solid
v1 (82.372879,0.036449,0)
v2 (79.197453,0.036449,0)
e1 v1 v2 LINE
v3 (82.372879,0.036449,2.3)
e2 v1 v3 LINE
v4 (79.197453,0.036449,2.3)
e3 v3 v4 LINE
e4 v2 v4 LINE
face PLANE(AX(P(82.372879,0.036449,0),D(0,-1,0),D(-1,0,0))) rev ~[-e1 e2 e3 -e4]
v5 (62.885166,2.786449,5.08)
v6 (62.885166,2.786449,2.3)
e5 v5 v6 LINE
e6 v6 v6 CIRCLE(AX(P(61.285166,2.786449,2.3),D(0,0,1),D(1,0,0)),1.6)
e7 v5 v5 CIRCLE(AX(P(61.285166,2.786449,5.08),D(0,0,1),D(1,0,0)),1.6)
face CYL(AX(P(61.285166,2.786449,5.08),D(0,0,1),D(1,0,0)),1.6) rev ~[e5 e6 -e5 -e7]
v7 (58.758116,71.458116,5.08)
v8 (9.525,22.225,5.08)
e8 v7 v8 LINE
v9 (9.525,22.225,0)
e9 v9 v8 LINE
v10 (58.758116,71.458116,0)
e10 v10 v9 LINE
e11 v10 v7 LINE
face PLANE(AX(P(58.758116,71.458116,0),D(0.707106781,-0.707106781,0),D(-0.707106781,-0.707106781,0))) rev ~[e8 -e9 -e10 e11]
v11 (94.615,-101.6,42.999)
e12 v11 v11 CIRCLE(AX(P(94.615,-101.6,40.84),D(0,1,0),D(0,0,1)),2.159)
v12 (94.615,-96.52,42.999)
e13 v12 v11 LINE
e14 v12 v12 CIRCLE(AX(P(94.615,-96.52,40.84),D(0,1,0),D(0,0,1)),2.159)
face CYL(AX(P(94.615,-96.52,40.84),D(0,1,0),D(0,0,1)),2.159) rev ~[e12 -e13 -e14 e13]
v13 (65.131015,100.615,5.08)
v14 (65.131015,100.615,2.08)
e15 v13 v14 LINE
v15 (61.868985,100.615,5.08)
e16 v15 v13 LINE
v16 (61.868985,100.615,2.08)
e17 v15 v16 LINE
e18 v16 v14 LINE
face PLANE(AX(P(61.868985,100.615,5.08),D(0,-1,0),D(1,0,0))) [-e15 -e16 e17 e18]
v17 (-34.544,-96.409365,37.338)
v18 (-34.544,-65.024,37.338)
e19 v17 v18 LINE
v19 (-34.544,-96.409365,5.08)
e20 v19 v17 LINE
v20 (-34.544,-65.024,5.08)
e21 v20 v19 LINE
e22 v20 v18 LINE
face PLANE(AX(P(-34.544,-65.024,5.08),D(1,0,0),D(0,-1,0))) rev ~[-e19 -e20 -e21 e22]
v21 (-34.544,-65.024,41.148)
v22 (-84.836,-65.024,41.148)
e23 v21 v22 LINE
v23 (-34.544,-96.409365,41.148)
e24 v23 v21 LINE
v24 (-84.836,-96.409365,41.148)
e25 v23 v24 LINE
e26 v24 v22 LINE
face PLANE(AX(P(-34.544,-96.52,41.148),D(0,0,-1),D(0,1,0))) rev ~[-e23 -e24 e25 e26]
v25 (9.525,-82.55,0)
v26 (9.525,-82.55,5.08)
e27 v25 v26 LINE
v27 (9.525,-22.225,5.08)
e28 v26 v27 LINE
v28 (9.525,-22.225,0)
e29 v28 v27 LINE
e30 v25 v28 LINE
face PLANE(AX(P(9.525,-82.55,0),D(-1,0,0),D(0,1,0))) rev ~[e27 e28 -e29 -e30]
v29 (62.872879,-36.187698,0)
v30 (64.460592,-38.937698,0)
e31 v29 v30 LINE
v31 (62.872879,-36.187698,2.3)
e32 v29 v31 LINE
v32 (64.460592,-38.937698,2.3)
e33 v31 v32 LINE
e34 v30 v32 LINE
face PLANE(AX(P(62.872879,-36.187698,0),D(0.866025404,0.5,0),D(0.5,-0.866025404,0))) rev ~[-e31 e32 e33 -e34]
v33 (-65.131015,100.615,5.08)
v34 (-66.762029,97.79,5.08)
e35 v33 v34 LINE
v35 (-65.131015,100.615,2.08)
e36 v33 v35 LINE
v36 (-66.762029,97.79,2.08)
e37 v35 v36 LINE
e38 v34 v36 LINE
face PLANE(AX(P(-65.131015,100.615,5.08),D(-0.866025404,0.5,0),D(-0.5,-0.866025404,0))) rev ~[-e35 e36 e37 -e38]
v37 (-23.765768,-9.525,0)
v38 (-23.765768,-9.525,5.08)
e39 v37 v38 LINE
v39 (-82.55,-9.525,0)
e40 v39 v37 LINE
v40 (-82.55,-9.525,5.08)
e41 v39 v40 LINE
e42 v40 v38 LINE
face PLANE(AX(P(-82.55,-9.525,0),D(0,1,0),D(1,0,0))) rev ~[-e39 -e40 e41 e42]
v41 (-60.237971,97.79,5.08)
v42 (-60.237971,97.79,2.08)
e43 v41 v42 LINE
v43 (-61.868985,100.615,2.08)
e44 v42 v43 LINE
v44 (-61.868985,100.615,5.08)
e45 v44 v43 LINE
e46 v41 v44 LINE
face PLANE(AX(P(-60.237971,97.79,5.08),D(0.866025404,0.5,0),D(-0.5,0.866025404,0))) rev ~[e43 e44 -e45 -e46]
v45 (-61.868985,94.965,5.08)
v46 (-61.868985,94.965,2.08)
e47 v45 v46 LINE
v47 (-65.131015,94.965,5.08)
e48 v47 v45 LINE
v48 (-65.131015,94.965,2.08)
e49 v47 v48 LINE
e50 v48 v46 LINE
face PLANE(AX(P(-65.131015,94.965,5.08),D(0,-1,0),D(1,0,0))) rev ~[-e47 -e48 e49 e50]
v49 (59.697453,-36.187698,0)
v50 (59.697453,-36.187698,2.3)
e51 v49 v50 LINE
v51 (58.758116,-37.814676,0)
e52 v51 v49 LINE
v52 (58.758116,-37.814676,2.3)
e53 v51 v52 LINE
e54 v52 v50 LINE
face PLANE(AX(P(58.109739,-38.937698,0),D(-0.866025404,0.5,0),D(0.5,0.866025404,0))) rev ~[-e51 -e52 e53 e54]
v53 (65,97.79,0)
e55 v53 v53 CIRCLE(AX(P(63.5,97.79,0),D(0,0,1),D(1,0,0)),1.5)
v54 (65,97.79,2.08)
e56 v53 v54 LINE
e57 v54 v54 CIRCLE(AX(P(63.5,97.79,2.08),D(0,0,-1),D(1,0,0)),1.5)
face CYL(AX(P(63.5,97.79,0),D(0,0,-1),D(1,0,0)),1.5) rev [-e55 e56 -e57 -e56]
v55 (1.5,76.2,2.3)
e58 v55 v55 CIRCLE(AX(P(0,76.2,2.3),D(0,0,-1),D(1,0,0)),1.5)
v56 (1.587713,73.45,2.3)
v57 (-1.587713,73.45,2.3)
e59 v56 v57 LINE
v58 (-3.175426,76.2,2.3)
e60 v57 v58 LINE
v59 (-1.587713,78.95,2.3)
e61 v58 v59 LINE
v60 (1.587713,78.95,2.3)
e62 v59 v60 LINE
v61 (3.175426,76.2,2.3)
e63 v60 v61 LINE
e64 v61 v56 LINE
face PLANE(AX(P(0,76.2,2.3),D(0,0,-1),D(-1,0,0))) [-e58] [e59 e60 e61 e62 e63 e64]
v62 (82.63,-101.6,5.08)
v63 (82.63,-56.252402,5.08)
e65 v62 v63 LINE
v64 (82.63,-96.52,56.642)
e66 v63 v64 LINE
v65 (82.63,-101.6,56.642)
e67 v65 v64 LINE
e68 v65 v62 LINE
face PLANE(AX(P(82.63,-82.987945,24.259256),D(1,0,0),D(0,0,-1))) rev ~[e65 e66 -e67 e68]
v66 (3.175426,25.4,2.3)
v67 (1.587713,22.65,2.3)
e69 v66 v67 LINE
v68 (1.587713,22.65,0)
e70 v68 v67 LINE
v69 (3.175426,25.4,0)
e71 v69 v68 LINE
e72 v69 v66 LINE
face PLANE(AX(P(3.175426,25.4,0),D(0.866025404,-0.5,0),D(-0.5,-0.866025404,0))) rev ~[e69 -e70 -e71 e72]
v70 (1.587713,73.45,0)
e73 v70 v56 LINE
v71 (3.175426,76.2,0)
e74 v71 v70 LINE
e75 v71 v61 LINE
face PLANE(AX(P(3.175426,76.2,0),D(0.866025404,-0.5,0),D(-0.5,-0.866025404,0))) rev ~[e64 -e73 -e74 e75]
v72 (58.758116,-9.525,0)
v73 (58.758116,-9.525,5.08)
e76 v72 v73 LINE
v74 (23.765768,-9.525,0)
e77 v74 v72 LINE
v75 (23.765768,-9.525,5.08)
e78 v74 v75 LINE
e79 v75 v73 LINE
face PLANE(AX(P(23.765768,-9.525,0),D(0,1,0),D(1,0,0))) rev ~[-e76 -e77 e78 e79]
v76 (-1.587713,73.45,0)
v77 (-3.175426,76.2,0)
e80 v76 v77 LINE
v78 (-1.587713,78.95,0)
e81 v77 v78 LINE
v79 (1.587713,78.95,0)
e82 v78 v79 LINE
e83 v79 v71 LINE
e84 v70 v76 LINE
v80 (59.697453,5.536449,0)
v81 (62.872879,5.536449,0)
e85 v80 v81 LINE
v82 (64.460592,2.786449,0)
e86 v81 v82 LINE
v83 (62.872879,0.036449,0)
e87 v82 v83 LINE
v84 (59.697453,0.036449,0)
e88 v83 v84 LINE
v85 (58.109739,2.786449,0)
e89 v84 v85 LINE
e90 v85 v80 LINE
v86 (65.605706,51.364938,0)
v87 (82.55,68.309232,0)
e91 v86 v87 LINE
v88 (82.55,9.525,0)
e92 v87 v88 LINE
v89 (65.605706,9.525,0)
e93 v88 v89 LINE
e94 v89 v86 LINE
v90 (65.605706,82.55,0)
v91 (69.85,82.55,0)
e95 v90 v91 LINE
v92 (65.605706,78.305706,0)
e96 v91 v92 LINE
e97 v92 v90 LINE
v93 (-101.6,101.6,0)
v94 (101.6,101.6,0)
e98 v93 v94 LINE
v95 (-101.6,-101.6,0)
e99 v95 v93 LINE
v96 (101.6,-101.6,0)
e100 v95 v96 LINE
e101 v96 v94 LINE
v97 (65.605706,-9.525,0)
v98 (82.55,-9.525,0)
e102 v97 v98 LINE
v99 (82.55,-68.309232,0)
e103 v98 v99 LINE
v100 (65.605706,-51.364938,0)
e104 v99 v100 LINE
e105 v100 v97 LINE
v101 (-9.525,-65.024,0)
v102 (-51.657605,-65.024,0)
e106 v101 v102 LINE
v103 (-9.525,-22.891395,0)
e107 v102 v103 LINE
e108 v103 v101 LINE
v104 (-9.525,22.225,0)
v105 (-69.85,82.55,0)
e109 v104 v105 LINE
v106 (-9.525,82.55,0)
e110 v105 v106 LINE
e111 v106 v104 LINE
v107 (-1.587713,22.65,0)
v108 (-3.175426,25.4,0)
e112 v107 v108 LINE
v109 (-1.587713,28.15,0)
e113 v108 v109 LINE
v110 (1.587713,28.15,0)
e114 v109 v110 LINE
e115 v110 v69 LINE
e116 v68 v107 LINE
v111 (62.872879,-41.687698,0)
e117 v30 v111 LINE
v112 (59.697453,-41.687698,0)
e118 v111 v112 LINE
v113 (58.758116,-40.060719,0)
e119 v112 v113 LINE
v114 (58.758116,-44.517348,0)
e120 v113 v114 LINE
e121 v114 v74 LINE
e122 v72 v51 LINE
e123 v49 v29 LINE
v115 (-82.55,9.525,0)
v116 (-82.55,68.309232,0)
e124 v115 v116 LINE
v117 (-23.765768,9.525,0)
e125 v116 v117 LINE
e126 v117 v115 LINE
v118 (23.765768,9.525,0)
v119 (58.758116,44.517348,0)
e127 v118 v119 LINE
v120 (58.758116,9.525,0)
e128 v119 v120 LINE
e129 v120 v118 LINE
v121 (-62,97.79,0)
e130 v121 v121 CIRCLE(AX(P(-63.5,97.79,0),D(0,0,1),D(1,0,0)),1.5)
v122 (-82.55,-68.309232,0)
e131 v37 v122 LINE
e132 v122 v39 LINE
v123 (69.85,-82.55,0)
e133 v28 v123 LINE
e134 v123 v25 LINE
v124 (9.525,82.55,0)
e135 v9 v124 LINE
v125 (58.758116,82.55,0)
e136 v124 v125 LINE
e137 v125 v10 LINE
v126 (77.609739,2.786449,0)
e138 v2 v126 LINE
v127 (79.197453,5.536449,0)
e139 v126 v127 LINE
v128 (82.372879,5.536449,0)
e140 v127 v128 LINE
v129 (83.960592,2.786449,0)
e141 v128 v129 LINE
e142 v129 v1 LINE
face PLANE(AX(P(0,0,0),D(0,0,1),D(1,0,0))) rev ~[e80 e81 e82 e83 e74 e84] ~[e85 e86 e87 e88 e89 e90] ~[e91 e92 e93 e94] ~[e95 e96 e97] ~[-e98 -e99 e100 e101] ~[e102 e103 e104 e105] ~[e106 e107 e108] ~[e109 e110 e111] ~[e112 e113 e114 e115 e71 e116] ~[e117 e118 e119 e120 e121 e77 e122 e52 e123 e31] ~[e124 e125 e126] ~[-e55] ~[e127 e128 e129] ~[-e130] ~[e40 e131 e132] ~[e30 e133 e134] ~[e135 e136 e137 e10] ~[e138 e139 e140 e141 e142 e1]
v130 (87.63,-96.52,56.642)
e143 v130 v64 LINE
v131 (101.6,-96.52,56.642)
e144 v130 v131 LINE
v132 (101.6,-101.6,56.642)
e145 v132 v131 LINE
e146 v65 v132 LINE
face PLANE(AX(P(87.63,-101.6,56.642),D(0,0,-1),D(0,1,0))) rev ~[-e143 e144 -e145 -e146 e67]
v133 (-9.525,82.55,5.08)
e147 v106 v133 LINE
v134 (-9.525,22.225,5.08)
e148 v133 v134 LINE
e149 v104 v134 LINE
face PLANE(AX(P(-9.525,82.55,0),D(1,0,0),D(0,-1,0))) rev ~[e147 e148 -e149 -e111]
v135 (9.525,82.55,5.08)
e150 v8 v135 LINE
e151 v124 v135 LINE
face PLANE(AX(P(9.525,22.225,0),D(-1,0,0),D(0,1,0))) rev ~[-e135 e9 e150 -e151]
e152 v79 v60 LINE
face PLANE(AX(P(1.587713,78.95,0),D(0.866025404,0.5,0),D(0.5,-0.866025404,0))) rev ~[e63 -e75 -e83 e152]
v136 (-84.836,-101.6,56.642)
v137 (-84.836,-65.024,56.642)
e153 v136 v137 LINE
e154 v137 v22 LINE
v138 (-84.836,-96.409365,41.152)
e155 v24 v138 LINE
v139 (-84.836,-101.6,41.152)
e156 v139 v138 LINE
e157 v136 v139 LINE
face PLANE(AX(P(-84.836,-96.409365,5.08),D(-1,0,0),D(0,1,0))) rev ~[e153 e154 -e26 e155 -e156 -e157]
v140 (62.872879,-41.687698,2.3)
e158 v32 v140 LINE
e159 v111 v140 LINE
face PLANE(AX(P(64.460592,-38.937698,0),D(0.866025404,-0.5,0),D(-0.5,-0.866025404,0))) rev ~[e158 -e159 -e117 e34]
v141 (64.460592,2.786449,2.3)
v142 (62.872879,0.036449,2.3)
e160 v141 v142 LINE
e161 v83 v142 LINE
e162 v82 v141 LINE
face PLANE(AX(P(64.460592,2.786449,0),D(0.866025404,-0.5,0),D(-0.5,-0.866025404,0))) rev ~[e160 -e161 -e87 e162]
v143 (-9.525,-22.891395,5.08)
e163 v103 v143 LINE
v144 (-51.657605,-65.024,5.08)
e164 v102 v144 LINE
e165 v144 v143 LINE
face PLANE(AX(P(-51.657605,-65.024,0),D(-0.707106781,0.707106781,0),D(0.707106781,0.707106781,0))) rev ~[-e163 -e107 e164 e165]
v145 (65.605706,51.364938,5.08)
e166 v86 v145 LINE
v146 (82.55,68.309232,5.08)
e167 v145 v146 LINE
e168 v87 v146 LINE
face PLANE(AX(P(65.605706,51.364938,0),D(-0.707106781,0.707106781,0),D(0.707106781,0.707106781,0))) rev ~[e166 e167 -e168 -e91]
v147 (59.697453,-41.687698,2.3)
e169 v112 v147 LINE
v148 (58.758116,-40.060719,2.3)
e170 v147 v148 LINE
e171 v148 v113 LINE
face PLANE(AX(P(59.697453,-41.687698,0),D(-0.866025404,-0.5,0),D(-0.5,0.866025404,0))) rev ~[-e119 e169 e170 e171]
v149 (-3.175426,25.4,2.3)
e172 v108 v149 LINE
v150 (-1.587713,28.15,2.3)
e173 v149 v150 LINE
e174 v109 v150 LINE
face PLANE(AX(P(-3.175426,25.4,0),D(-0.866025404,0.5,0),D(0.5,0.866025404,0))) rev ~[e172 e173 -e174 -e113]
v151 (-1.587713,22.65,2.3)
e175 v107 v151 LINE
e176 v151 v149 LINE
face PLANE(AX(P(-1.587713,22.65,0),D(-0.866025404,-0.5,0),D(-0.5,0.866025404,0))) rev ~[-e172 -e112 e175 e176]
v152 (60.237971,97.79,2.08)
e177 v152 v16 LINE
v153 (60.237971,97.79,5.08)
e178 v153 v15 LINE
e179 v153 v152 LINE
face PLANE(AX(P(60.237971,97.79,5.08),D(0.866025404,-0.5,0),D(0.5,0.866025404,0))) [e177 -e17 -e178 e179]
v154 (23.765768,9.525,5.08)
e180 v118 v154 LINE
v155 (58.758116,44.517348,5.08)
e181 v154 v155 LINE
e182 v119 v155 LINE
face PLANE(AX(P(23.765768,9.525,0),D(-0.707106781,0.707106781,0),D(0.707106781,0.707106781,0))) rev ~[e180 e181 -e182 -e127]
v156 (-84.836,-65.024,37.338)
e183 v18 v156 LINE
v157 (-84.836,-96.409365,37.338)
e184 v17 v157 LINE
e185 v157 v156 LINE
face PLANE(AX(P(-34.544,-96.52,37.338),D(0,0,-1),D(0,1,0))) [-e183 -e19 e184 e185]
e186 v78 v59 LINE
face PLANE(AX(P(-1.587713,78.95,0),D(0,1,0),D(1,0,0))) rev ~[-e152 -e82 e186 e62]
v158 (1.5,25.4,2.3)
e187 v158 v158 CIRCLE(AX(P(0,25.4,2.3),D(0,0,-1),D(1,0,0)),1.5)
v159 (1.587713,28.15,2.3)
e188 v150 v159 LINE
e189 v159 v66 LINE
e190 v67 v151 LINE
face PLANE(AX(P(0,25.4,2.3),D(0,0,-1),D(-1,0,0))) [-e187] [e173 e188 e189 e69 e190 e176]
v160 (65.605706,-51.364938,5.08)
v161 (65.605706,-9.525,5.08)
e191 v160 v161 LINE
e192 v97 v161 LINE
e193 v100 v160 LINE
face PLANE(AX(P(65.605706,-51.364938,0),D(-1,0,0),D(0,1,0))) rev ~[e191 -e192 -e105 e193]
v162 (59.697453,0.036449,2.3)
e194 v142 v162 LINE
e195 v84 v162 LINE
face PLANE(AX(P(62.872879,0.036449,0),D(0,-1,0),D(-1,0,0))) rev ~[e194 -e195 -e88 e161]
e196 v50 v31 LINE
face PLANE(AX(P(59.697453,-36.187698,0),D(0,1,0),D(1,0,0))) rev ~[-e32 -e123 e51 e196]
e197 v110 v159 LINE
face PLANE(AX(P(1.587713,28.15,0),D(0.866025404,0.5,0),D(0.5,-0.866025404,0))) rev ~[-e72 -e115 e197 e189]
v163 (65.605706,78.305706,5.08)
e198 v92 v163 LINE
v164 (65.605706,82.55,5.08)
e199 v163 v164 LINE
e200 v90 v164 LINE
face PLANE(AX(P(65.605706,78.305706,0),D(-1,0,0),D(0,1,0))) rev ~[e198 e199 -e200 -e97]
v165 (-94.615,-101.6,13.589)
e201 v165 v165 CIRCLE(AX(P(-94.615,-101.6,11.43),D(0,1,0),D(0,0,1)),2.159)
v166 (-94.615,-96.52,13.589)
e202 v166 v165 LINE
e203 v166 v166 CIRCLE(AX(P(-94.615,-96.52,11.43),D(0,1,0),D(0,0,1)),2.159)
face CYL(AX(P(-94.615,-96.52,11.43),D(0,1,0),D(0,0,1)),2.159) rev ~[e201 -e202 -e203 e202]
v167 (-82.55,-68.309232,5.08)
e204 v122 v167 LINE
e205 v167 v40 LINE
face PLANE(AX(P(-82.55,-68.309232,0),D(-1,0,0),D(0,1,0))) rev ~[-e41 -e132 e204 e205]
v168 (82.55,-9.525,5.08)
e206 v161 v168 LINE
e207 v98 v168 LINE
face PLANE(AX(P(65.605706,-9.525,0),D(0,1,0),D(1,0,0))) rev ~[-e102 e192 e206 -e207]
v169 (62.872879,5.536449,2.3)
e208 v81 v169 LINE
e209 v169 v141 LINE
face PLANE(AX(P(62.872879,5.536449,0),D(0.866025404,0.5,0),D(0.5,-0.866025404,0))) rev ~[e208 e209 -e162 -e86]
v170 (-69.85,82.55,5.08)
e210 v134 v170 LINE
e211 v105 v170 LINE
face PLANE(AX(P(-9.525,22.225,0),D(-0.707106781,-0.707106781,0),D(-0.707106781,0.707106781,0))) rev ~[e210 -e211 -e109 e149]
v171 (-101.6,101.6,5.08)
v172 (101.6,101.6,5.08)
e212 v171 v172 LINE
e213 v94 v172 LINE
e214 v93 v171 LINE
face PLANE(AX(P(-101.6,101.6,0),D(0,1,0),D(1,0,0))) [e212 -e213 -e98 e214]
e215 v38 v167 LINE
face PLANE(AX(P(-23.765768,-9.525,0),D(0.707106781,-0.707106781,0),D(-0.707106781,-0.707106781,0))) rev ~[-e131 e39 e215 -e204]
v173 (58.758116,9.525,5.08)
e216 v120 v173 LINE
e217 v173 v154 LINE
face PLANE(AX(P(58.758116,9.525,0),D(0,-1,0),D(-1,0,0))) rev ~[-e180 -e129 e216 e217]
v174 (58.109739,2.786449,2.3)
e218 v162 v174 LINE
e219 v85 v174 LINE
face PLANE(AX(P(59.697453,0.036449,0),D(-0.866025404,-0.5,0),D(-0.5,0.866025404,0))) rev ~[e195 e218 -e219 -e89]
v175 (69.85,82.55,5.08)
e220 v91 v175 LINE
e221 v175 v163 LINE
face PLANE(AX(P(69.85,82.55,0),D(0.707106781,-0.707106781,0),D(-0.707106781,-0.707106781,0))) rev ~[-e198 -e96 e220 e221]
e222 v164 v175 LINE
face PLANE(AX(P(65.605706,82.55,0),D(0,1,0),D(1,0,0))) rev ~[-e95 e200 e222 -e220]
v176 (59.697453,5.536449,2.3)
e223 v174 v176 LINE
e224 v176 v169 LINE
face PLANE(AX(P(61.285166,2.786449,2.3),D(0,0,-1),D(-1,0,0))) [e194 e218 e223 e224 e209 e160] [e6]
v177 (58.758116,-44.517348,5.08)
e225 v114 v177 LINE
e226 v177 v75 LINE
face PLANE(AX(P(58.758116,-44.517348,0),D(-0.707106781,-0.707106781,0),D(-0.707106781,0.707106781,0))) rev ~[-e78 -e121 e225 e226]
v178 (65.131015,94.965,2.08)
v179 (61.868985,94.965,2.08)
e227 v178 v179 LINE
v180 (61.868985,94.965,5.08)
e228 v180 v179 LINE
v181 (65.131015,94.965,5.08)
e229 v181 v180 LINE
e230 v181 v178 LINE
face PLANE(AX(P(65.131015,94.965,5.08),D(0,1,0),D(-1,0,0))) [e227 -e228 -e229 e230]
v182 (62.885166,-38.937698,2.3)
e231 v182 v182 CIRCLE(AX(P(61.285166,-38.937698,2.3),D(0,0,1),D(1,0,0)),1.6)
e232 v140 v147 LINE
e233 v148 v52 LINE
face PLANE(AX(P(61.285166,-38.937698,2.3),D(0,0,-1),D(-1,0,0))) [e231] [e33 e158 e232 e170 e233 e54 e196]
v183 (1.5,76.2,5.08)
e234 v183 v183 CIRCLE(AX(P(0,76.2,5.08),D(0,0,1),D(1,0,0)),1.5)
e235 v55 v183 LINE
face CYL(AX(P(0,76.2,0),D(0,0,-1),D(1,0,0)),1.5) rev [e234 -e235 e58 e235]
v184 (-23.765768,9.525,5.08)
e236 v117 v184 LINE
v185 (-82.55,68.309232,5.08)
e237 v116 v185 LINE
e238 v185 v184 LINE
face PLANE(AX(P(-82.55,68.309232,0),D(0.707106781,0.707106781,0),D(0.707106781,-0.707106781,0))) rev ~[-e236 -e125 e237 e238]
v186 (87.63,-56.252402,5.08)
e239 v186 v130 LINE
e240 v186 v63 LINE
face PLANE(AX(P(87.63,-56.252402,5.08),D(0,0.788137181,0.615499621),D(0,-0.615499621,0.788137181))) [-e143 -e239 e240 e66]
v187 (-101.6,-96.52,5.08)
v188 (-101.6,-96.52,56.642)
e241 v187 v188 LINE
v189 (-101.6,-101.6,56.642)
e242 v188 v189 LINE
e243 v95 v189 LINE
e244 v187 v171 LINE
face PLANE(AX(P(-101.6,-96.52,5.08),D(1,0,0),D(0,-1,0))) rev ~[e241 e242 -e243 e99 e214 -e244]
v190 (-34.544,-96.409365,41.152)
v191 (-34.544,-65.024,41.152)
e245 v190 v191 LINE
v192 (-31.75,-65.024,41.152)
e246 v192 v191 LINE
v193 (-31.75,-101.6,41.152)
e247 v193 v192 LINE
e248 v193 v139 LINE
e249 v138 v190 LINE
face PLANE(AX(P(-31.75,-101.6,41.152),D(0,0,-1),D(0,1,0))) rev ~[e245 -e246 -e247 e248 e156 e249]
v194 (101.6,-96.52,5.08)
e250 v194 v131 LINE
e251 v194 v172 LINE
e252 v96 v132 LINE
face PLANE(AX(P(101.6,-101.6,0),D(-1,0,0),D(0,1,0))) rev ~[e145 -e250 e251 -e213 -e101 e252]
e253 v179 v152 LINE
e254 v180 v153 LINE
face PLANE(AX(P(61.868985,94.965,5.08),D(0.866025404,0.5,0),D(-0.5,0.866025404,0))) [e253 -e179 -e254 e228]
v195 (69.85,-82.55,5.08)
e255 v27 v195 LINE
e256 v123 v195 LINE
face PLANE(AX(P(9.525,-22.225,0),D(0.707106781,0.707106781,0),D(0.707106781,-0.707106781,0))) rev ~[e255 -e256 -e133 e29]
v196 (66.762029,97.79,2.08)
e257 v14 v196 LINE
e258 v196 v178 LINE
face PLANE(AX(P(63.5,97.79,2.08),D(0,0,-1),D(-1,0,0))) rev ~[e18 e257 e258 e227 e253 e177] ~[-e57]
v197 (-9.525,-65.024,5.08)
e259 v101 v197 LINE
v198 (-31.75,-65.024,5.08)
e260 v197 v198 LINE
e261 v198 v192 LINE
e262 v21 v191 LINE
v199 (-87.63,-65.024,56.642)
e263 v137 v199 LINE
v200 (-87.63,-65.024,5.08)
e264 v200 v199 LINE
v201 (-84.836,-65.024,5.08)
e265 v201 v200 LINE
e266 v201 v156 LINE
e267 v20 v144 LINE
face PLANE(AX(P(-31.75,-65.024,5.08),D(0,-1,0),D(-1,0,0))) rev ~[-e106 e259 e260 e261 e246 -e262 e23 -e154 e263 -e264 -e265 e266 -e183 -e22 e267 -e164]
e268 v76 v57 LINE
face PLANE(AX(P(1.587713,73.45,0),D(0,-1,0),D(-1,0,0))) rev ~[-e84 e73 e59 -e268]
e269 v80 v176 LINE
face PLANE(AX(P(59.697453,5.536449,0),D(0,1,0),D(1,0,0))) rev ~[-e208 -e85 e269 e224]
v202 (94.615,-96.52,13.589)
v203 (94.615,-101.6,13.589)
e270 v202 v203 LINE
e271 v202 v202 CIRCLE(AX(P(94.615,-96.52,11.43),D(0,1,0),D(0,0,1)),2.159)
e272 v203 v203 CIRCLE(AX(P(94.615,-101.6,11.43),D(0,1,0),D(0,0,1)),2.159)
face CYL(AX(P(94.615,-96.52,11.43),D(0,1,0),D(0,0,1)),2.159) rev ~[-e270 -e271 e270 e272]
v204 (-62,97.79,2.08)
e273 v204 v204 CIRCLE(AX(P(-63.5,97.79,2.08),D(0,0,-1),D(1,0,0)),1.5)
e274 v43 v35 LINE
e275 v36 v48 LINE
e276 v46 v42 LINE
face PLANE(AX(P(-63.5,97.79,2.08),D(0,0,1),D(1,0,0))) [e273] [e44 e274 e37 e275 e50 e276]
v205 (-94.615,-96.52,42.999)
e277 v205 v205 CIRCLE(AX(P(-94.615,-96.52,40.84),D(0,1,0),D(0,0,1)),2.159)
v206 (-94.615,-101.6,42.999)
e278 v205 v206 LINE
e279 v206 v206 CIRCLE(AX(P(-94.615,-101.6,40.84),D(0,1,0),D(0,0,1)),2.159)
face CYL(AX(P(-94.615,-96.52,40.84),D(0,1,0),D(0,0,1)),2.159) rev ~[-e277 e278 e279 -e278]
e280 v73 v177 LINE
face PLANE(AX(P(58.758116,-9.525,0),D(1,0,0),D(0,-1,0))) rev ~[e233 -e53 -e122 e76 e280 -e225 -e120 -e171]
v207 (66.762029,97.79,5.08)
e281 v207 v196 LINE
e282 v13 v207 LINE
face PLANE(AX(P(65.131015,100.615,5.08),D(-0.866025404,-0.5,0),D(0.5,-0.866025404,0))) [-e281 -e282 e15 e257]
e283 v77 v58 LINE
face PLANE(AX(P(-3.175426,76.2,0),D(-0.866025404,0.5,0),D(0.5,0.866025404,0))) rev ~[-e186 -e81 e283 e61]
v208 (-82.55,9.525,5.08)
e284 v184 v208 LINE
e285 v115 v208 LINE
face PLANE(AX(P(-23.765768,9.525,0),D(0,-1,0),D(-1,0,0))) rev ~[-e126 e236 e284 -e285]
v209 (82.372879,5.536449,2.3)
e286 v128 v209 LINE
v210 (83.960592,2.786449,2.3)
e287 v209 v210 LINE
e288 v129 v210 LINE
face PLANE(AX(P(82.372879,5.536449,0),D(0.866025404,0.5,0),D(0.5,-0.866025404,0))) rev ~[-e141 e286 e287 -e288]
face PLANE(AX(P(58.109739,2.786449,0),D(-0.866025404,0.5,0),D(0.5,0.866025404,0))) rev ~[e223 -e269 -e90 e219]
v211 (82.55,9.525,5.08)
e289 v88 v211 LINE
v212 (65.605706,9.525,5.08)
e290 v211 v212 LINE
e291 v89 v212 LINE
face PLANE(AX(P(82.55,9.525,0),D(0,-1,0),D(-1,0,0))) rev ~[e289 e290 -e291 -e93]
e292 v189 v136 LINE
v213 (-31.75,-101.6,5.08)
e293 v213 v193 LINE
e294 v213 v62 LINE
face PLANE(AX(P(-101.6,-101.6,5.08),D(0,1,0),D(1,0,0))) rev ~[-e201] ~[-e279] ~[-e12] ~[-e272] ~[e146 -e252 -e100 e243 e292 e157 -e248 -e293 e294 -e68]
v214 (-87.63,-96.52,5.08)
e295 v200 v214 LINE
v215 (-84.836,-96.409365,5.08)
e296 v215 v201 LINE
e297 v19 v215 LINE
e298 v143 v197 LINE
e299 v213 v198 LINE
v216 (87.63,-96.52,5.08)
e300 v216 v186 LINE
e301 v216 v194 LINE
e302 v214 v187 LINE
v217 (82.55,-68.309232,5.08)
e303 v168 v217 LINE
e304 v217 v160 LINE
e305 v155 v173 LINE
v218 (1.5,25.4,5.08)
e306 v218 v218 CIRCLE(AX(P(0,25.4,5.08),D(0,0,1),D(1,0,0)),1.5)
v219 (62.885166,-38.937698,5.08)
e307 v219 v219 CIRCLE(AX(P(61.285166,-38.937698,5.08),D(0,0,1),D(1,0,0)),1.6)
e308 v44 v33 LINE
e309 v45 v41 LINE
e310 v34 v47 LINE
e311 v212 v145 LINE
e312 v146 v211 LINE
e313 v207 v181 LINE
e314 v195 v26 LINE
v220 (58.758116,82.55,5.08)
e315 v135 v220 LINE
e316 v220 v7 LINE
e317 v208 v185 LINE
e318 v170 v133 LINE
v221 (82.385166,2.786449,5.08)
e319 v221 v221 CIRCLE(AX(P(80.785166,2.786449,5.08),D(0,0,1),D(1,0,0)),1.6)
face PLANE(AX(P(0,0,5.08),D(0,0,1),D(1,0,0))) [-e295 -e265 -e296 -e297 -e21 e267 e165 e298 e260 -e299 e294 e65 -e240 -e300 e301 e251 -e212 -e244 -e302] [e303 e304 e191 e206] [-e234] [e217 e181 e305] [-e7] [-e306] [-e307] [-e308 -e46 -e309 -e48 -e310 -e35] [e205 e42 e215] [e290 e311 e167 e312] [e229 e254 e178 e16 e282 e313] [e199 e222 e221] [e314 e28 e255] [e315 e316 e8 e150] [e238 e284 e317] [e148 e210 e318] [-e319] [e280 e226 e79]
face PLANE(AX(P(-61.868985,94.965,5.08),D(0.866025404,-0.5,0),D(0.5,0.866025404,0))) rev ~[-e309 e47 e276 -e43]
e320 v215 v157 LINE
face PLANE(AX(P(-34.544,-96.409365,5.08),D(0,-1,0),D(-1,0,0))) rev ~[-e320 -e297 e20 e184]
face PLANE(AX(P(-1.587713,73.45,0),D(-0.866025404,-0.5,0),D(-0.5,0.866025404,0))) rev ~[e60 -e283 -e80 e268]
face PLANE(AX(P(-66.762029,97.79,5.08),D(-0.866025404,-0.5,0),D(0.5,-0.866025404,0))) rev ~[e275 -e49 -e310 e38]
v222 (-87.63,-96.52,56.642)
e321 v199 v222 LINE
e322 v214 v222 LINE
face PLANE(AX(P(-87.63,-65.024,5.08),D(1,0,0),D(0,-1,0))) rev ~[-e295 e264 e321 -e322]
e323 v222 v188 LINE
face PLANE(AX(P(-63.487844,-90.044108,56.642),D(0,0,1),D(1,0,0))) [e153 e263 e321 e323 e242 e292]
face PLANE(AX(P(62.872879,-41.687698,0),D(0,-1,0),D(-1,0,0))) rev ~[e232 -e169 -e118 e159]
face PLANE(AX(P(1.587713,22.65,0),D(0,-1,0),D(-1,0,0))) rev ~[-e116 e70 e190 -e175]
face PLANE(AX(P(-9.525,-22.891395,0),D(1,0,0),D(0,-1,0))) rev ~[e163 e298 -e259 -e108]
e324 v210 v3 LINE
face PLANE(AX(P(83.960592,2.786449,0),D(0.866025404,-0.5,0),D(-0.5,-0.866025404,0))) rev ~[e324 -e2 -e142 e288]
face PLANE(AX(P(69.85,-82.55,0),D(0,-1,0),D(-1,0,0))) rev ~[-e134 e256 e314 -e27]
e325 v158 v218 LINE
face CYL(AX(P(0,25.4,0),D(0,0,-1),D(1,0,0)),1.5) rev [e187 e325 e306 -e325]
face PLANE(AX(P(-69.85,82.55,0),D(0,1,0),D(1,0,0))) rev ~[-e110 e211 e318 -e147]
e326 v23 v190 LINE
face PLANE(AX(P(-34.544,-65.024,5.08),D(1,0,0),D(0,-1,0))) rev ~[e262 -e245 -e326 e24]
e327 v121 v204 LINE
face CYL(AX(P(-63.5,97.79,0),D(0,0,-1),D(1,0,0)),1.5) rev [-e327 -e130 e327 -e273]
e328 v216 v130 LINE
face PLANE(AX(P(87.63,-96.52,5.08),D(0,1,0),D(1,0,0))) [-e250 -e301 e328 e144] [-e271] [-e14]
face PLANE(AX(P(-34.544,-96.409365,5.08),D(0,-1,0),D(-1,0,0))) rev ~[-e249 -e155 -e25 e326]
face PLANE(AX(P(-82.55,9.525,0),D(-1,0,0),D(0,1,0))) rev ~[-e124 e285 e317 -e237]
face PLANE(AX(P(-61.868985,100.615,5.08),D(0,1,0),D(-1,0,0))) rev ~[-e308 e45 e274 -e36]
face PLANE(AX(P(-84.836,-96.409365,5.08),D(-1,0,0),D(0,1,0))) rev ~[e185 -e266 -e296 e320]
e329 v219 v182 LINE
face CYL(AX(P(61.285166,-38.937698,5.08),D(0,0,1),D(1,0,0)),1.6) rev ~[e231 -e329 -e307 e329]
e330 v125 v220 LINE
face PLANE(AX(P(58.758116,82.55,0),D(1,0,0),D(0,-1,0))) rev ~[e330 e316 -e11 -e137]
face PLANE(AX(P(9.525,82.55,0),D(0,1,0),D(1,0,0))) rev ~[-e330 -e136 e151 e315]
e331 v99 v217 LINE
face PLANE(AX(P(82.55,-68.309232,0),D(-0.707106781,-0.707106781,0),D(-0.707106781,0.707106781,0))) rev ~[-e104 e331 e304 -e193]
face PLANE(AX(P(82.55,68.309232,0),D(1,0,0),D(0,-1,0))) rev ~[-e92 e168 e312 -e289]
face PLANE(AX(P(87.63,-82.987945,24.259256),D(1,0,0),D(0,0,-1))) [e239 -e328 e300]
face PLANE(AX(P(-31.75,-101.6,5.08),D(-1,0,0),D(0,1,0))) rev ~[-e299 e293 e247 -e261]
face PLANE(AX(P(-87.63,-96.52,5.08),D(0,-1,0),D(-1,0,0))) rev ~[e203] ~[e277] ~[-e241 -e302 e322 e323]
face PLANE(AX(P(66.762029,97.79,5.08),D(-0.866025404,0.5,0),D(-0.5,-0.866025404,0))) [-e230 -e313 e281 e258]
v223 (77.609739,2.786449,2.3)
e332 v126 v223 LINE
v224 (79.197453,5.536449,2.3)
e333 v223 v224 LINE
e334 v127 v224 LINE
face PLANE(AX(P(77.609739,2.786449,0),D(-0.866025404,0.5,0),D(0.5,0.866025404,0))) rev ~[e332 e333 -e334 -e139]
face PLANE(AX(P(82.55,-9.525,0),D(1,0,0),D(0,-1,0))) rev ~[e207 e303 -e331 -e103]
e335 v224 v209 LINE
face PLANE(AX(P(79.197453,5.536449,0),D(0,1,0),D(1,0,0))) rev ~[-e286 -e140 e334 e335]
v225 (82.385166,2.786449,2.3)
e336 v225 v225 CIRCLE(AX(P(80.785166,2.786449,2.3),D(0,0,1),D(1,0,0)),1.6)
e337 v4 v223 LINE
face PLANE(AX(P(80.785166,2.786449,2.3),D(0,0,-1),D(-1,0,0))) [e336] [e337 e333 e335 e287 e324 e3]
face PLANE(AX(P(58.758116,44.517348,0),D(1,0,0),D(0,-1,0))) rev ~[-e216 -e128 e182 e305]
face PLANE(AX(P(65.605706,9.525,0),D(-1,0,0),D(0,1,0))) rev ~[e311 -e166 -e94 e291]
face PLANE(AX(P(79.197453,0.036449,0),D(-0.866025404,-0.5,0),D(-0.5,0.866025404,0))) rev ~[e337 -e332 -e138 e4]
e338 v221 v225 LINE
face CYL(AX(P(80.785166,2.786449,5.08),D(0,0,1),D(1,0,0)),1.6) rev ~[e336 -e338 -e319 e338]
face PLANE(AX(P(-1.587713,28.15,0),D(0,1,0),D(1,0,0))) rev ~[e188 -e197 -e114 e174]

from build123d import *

# Parameters (mm, degrees)
SKETCH1_W           = 203.2
SKETCH1_H           = 203.2
SKETCH1_R           = 1.5
BOSS_EXTRUDE1_DEPTH = 5.08
SKETCH2_W           = 13.97
SKETCH2_H           = 5.08
BOSS_EXTRUDE2_DEPTH = 51.562
CUT_EXTRUDE1_REACH  = 231.744
SKETCH3_R           = 2.159
CUT_EXTRUDE4_DEPTH  = 3
BOSS_EXTRUDE3_REACH = 181.07
SKETCH12_W          = 3.81
SKETCH12_H          = 31.496
SKETCH14_W          = 15.49
SKETCH14_H          = 36.576
CUT_EXTRUDE5_DEPTH  = 53.086
SKETCH15_R          = 1.6
CUT_EXTRUDE6_DEPTH  = 10
CUT_EXTRUDE7_DEPTH  = 2.3
BOSS_EXTRUDE5_START = -13.97
SKETCH17_W          = 51.562
SKETCH17_H          = 5.08
BOSS_EXTRUDE5_DEPTH = 5


with BuildPart() as part:
    # Sketch1 → Boss-Extrude1 (new body)
    with BuildSketch(Plane.XY):
        Rectangle(SKETCH1_W, SKETCH1_H)
        Polygon((-82.55, -68.309231637), (-82.55, -9.525), (-23.765768363, -9.525), align=None, mode=Mode.SUBTRACT)
        Polygon((-51.657605136, -65.024), (-9.525, -22.891394864), (-9.525, -65.024), align=None, mode=Mode.SUBTRACT)
        Polygon((9.525, -82.55), (9.525, -22.225), (69.85, -82.55), align=None, mode=Mode.SUBTRACT)
        Polygon((82.55, -68.309231637), (65.605706321, -51.364937958), (65.605706321, -9.525), (82.55, -9.525), align=None, mode=Mode.SUBTRACT)
        Polygon((58.758115986, -44.517347622), (23.765768363, -9.525), (58.758115986, -9.525), align=None, mode=Mode.SUBTRACT)
        Polygon((-23.765768363, 9.525), (-82.55, 9.525), (-82.55, 68.309231637), align=None, mode=Mode.SUBTRACT)
        Polygon((-9.525, 22.225), (-69.85, 82.55), (-9.525, 82.55), align=None, mode=Mode.SUBTRACT)
        with Locations((-63.5, 97.79)):
            Circle(SKETCH1_R, mode=Mode.SUBTRACT)
        with Locations((0, 25.4)):
            Circle(SKETCH1_R, mode=Mode.SUBTRACT)
        Polygon((58.758115986, 44.517347622), (58.758115986, 9.525), (23.765768363, 9.525), align=None, mode=Mode.SUBTRACT)
        Polygon((9.525, 82.55), (58.758115986, 82.55), (58.758115986, 71.458115986), (9.525, 22.225), align=None, mode=Mode.SUBTRACT)
        Polygon((82.55, 9.525), (65.605706321, 9.525), (65.605706321, 51.364937958), (82.55, 68.309231637), align=None, mode=Mode.SUBTRACT)
        with Locations((0, 76.2)):
            Circle(SKETCH1_R, mode=Mode.SUBTRACT)
        Polygon((65.605706321, 78.305706321), (65.605706321, 82.55), (69.85, 82.55), align=None, mode=Mode.SUBTRACT)
        with Locations((63.5, 97.79)):
            Circle(SKETCH1_R, mode=Mode.SUBTRACT)
    extrude(amount=BOSS_EXTRUDE1_DEPTH)

    # Sketch2 → Boss-Extrude2 (add)
    with BuildSketch(Plane.XY.offset(5.08)):
        Polygon((-101.6, -96.52), (-101.6, -101.6), (-31.75, -101.6), (-31.75, -65.024), (-34.544, -65.024), (-34.544, -96.409365186), (-84.836, -96.409365186), (-84.836, -65.024), (-87.63, -65.024), (-87.63, -96.52), align=None)
        with Locations((94.615, -99.06)):
            Rectangle(SKETCH2_W, SKETCH2_H)
    extrude(amount=BOSS_EXTRUDE2_DEPTH)

    # Sketch3 → Cut-Extrude1 (cut, up to next)
    with BuildSketch(Plane(origin=(0, -96.52, 0), x_dir=(1, 0, 0), z_dir=(0, 1, 0)), mode=Mode.PRIVATE) as cut_extrude1_sk1:
        with Locations(Location((-94.615, -11.43, 0), (0, 0, 270))):
            Circle(SKETCH3_R)
    cut_extrude1_tool1 = extrude(cut_extrude1_sk1.sketch, amount=-CUT_EXTRUDE1_REACH, mode=Mode.PRIVATE) & part.part
    # Sketch3 → Cut-Extrude1 (cut, up to next)
    with BuildSketch(Plane(origin=(0, -96.52, 0), x_dir=(1, 0, 0), z_dir=(0, 1, 0)), mode=Mode.PRIVATE) as cut_extrude1_sk2:
        with Locations(Location((94.615, -11.43, 0), (0, 0, 270))):
            Circle(SKETCH3_R)
    cut_extrude1_tool2 = extrude(cut_extrude1_sk2.sketch, amount=-CUT_EXTRUDE1_REACH, mode=Mode.PRIVATE) & part.part
    # Sketch3 → Cut-Extrude1 (cut, up to next)
    with BuildSketch(Plane(origin=(0, -96.52, 0), x_dir=(1, 0, 0), z_dir=(0, 1, 0)), mode=Mode.PRIVATE) as cut_extrude1_sk3:
        with Locations(Location((94.615, -40.84, 0), (0, 0, 270))):
            Circle(SKETCH3_R)
    cut_extrude1_tool3 = extrude(cut_extrude1_sk3.sketch, amount=-CUT_EXTRUDE1_REACH, mode=Mode.PRIVATE) & part.part
    # Sketch3 → Cut-Extrude1 (cut, up to next)
    with BuildSketch(Plane(origin=(0, -96.52, 0), x_dir=(1, 0, 0), z_dir=(0, 1, 0)), mode=Mode.PRIVATE) as cut_extrude1_sk4:
        with Locations(Location((-94.615, -40.84, 0), (0, 0, 270))):
            Circle(SKETCH3_R)
    cut_extrude1_tool4 = extrude(cut_extrude1_sk4.sketch, amount=-CUT_EXTRUDE1_REACH, mode=Mode.PRIVATE) & part.part
    add(cut_extrude1_tool1.solids().sort_by_distance((-94.615, -96.52, 11.43))[0], mode=Mode.SUBTRACT)
    add(cut_extrude1_tool2.solids().sort_by_distance((94.615, -96.52, 11.43))[0], mode=Mode.SUBTRACT)
    add(cut_extrude1_tool3.solids().sort_by_distance((94.615, -96.52, 40.84))[0], mode=Mode.SUBTRACT)
    add(cut_extrude1_tool4.solids().sort_by_distance((-94.615, -96.52, 40.84))[0], mode=Mode.SUBTRACT)

    # Sketch11 → Cut-Extrude4 (cut)
    with BuildSketch(Plane.XY.offset(5.08)):
        Polygon((-61.86898549, 94.965), (-60.237970979, 97.79), (-61.86898549, 100.615), (-65.13101451, 100.615), (-66.762029021, 97.79), (-65.13101451, 94.965), align=None)
        Polygon((65.13101451, 94.965), (61.86898549, 94.965), (60.237970979, 97.79), (61.86898549, 100.615), (65.13101451, 100.615), (66.762029021, 97.79), align=None)
    extrude(amount=-CUT_EXTRUDE4_DEPTH, mode=Mode.SUBTRACT)

    # Sketch12 → Boss-Extrude3 (add, up to next)
    with BuildSketch(Plane.ZY.offset(34.544), mode=Mode.PRIVATE) as boss_extrude3_sk1:
        with Locations((39.243, -80.772)):
            Rectangle(SKETCH12_W, SKETCH12_H)
    boss_extrude3_tool1 = extrude(boss_extrude3_sk1.sketch, amount=BOSS_EXTRUDE3_REACH, mode=Mode.PRIVATE) - part.part
    add(boss_extrude3_tool1.solids().sort_by_distance((-34.544, -80.772, 39.243))[0])

    # Sketch14 → Cut-Extrude5 (cut)
    with BuildSketch(Plane(origin=(-31.75, 0, 0), x_dir=(0, 0, -1), z_dir=(1, 0, 0))):
        with Locations((-48.897, -83.312)):
            Rectangle(SKETCH14_W, SKETCH14_H)
    extrude(amount=-CUT_EXTRUDE5_DEPTH, mode=Mode.SUBTRACT)

    # Sketch15 → Cut-Extrude6 (cut)
    with BuildSketch(Plane.XY.offset(5.08)):
        with Locations((61.285165756, 2.786448521)):
            Circle(SKETCH15_R)
        with Locations((80.785165756, 2.786448521)):
            Circle(SKETCH15_R)
        with Locations((80.785165756, -38.937697653)):
            Circle(SKETCH15_R)
        with Locations((61.285165756, -38.937697653)):
            Circle(SKETCH15_R)
    extrude(amount=-CUT_EXTRUDE6_DEPTH, mode=Mode.SUBTRACT)

    # Sketch16 → Cut-Extrude7 (cut)
    with BuildSketch(Plane(origin=(0, 0, 0), x_dir=(-1, 0, 0), z_dir=(0, 0, -1))):
        Polygon((-1.58771324, 73.45), (1.58771324, 73.45), (3.175426481, 76.2), (1.58771324, 78.95), (-1.58771324, 78.95), (-3.175426481, 76.2), align=None)
        Polygon((-3.175426481, 25.4), (-1.58771324, 22.65), (1.58771324, 22.65), (3.175426481, 25.4), (1.58771324, 28.15), (-1.58771324, 28.15), align=None)
        Polygon((-64.460592236, 2.786448521), (-62.872878996, 0.036448521), (-59.697452515, 0.036448521), (-58.109739275, 2.786448521), (-59.697452515, 5.536448521), (-62.872878996, 5.536448521), align=None)
        Polygon((-83.960592236, 2.786448521), (-82.372878996, 0.036448521), (-79.197452515, 0.036448521), (-77.609739275, 2.786448521), (-79.197452515, 5.536448521), (-82.372878996, 5.536448521), align=None)
        Polygon((-64.460592236, -38.937697653), (-62.872878996, -41.687697653), (-59.697452515, -41.687697653), (-58.109739275, -38.937697653), (-59.697452515, -36.187697653), (-62.872878996, -36.187697653), align=None)
    extrude(amount=-CUT_EXTRUDE7_DEPTH, mode=Mode.SUBTRACT)

    # Sketch17 → Boss-Extrude5 (add)
    with BuildSketch(Plane(origin=(101.6, 0, 0), x_dir=(0, 0, -1), z_dir=(1, 0, 0)).offset(BOSS_EXTRUDE5_START)):
        Polygon((-5.08, -56.252401603), (-56.642, -96.52), (-5.08, -96.52), align=None)
        with Locations((-30.861, -99.06)):
            Rectangle(SKETCH17_W, SKETCH17_H)
    extrude(amount=-BOSS_EXTRUDE5_DEPTH)


solid = part.part
